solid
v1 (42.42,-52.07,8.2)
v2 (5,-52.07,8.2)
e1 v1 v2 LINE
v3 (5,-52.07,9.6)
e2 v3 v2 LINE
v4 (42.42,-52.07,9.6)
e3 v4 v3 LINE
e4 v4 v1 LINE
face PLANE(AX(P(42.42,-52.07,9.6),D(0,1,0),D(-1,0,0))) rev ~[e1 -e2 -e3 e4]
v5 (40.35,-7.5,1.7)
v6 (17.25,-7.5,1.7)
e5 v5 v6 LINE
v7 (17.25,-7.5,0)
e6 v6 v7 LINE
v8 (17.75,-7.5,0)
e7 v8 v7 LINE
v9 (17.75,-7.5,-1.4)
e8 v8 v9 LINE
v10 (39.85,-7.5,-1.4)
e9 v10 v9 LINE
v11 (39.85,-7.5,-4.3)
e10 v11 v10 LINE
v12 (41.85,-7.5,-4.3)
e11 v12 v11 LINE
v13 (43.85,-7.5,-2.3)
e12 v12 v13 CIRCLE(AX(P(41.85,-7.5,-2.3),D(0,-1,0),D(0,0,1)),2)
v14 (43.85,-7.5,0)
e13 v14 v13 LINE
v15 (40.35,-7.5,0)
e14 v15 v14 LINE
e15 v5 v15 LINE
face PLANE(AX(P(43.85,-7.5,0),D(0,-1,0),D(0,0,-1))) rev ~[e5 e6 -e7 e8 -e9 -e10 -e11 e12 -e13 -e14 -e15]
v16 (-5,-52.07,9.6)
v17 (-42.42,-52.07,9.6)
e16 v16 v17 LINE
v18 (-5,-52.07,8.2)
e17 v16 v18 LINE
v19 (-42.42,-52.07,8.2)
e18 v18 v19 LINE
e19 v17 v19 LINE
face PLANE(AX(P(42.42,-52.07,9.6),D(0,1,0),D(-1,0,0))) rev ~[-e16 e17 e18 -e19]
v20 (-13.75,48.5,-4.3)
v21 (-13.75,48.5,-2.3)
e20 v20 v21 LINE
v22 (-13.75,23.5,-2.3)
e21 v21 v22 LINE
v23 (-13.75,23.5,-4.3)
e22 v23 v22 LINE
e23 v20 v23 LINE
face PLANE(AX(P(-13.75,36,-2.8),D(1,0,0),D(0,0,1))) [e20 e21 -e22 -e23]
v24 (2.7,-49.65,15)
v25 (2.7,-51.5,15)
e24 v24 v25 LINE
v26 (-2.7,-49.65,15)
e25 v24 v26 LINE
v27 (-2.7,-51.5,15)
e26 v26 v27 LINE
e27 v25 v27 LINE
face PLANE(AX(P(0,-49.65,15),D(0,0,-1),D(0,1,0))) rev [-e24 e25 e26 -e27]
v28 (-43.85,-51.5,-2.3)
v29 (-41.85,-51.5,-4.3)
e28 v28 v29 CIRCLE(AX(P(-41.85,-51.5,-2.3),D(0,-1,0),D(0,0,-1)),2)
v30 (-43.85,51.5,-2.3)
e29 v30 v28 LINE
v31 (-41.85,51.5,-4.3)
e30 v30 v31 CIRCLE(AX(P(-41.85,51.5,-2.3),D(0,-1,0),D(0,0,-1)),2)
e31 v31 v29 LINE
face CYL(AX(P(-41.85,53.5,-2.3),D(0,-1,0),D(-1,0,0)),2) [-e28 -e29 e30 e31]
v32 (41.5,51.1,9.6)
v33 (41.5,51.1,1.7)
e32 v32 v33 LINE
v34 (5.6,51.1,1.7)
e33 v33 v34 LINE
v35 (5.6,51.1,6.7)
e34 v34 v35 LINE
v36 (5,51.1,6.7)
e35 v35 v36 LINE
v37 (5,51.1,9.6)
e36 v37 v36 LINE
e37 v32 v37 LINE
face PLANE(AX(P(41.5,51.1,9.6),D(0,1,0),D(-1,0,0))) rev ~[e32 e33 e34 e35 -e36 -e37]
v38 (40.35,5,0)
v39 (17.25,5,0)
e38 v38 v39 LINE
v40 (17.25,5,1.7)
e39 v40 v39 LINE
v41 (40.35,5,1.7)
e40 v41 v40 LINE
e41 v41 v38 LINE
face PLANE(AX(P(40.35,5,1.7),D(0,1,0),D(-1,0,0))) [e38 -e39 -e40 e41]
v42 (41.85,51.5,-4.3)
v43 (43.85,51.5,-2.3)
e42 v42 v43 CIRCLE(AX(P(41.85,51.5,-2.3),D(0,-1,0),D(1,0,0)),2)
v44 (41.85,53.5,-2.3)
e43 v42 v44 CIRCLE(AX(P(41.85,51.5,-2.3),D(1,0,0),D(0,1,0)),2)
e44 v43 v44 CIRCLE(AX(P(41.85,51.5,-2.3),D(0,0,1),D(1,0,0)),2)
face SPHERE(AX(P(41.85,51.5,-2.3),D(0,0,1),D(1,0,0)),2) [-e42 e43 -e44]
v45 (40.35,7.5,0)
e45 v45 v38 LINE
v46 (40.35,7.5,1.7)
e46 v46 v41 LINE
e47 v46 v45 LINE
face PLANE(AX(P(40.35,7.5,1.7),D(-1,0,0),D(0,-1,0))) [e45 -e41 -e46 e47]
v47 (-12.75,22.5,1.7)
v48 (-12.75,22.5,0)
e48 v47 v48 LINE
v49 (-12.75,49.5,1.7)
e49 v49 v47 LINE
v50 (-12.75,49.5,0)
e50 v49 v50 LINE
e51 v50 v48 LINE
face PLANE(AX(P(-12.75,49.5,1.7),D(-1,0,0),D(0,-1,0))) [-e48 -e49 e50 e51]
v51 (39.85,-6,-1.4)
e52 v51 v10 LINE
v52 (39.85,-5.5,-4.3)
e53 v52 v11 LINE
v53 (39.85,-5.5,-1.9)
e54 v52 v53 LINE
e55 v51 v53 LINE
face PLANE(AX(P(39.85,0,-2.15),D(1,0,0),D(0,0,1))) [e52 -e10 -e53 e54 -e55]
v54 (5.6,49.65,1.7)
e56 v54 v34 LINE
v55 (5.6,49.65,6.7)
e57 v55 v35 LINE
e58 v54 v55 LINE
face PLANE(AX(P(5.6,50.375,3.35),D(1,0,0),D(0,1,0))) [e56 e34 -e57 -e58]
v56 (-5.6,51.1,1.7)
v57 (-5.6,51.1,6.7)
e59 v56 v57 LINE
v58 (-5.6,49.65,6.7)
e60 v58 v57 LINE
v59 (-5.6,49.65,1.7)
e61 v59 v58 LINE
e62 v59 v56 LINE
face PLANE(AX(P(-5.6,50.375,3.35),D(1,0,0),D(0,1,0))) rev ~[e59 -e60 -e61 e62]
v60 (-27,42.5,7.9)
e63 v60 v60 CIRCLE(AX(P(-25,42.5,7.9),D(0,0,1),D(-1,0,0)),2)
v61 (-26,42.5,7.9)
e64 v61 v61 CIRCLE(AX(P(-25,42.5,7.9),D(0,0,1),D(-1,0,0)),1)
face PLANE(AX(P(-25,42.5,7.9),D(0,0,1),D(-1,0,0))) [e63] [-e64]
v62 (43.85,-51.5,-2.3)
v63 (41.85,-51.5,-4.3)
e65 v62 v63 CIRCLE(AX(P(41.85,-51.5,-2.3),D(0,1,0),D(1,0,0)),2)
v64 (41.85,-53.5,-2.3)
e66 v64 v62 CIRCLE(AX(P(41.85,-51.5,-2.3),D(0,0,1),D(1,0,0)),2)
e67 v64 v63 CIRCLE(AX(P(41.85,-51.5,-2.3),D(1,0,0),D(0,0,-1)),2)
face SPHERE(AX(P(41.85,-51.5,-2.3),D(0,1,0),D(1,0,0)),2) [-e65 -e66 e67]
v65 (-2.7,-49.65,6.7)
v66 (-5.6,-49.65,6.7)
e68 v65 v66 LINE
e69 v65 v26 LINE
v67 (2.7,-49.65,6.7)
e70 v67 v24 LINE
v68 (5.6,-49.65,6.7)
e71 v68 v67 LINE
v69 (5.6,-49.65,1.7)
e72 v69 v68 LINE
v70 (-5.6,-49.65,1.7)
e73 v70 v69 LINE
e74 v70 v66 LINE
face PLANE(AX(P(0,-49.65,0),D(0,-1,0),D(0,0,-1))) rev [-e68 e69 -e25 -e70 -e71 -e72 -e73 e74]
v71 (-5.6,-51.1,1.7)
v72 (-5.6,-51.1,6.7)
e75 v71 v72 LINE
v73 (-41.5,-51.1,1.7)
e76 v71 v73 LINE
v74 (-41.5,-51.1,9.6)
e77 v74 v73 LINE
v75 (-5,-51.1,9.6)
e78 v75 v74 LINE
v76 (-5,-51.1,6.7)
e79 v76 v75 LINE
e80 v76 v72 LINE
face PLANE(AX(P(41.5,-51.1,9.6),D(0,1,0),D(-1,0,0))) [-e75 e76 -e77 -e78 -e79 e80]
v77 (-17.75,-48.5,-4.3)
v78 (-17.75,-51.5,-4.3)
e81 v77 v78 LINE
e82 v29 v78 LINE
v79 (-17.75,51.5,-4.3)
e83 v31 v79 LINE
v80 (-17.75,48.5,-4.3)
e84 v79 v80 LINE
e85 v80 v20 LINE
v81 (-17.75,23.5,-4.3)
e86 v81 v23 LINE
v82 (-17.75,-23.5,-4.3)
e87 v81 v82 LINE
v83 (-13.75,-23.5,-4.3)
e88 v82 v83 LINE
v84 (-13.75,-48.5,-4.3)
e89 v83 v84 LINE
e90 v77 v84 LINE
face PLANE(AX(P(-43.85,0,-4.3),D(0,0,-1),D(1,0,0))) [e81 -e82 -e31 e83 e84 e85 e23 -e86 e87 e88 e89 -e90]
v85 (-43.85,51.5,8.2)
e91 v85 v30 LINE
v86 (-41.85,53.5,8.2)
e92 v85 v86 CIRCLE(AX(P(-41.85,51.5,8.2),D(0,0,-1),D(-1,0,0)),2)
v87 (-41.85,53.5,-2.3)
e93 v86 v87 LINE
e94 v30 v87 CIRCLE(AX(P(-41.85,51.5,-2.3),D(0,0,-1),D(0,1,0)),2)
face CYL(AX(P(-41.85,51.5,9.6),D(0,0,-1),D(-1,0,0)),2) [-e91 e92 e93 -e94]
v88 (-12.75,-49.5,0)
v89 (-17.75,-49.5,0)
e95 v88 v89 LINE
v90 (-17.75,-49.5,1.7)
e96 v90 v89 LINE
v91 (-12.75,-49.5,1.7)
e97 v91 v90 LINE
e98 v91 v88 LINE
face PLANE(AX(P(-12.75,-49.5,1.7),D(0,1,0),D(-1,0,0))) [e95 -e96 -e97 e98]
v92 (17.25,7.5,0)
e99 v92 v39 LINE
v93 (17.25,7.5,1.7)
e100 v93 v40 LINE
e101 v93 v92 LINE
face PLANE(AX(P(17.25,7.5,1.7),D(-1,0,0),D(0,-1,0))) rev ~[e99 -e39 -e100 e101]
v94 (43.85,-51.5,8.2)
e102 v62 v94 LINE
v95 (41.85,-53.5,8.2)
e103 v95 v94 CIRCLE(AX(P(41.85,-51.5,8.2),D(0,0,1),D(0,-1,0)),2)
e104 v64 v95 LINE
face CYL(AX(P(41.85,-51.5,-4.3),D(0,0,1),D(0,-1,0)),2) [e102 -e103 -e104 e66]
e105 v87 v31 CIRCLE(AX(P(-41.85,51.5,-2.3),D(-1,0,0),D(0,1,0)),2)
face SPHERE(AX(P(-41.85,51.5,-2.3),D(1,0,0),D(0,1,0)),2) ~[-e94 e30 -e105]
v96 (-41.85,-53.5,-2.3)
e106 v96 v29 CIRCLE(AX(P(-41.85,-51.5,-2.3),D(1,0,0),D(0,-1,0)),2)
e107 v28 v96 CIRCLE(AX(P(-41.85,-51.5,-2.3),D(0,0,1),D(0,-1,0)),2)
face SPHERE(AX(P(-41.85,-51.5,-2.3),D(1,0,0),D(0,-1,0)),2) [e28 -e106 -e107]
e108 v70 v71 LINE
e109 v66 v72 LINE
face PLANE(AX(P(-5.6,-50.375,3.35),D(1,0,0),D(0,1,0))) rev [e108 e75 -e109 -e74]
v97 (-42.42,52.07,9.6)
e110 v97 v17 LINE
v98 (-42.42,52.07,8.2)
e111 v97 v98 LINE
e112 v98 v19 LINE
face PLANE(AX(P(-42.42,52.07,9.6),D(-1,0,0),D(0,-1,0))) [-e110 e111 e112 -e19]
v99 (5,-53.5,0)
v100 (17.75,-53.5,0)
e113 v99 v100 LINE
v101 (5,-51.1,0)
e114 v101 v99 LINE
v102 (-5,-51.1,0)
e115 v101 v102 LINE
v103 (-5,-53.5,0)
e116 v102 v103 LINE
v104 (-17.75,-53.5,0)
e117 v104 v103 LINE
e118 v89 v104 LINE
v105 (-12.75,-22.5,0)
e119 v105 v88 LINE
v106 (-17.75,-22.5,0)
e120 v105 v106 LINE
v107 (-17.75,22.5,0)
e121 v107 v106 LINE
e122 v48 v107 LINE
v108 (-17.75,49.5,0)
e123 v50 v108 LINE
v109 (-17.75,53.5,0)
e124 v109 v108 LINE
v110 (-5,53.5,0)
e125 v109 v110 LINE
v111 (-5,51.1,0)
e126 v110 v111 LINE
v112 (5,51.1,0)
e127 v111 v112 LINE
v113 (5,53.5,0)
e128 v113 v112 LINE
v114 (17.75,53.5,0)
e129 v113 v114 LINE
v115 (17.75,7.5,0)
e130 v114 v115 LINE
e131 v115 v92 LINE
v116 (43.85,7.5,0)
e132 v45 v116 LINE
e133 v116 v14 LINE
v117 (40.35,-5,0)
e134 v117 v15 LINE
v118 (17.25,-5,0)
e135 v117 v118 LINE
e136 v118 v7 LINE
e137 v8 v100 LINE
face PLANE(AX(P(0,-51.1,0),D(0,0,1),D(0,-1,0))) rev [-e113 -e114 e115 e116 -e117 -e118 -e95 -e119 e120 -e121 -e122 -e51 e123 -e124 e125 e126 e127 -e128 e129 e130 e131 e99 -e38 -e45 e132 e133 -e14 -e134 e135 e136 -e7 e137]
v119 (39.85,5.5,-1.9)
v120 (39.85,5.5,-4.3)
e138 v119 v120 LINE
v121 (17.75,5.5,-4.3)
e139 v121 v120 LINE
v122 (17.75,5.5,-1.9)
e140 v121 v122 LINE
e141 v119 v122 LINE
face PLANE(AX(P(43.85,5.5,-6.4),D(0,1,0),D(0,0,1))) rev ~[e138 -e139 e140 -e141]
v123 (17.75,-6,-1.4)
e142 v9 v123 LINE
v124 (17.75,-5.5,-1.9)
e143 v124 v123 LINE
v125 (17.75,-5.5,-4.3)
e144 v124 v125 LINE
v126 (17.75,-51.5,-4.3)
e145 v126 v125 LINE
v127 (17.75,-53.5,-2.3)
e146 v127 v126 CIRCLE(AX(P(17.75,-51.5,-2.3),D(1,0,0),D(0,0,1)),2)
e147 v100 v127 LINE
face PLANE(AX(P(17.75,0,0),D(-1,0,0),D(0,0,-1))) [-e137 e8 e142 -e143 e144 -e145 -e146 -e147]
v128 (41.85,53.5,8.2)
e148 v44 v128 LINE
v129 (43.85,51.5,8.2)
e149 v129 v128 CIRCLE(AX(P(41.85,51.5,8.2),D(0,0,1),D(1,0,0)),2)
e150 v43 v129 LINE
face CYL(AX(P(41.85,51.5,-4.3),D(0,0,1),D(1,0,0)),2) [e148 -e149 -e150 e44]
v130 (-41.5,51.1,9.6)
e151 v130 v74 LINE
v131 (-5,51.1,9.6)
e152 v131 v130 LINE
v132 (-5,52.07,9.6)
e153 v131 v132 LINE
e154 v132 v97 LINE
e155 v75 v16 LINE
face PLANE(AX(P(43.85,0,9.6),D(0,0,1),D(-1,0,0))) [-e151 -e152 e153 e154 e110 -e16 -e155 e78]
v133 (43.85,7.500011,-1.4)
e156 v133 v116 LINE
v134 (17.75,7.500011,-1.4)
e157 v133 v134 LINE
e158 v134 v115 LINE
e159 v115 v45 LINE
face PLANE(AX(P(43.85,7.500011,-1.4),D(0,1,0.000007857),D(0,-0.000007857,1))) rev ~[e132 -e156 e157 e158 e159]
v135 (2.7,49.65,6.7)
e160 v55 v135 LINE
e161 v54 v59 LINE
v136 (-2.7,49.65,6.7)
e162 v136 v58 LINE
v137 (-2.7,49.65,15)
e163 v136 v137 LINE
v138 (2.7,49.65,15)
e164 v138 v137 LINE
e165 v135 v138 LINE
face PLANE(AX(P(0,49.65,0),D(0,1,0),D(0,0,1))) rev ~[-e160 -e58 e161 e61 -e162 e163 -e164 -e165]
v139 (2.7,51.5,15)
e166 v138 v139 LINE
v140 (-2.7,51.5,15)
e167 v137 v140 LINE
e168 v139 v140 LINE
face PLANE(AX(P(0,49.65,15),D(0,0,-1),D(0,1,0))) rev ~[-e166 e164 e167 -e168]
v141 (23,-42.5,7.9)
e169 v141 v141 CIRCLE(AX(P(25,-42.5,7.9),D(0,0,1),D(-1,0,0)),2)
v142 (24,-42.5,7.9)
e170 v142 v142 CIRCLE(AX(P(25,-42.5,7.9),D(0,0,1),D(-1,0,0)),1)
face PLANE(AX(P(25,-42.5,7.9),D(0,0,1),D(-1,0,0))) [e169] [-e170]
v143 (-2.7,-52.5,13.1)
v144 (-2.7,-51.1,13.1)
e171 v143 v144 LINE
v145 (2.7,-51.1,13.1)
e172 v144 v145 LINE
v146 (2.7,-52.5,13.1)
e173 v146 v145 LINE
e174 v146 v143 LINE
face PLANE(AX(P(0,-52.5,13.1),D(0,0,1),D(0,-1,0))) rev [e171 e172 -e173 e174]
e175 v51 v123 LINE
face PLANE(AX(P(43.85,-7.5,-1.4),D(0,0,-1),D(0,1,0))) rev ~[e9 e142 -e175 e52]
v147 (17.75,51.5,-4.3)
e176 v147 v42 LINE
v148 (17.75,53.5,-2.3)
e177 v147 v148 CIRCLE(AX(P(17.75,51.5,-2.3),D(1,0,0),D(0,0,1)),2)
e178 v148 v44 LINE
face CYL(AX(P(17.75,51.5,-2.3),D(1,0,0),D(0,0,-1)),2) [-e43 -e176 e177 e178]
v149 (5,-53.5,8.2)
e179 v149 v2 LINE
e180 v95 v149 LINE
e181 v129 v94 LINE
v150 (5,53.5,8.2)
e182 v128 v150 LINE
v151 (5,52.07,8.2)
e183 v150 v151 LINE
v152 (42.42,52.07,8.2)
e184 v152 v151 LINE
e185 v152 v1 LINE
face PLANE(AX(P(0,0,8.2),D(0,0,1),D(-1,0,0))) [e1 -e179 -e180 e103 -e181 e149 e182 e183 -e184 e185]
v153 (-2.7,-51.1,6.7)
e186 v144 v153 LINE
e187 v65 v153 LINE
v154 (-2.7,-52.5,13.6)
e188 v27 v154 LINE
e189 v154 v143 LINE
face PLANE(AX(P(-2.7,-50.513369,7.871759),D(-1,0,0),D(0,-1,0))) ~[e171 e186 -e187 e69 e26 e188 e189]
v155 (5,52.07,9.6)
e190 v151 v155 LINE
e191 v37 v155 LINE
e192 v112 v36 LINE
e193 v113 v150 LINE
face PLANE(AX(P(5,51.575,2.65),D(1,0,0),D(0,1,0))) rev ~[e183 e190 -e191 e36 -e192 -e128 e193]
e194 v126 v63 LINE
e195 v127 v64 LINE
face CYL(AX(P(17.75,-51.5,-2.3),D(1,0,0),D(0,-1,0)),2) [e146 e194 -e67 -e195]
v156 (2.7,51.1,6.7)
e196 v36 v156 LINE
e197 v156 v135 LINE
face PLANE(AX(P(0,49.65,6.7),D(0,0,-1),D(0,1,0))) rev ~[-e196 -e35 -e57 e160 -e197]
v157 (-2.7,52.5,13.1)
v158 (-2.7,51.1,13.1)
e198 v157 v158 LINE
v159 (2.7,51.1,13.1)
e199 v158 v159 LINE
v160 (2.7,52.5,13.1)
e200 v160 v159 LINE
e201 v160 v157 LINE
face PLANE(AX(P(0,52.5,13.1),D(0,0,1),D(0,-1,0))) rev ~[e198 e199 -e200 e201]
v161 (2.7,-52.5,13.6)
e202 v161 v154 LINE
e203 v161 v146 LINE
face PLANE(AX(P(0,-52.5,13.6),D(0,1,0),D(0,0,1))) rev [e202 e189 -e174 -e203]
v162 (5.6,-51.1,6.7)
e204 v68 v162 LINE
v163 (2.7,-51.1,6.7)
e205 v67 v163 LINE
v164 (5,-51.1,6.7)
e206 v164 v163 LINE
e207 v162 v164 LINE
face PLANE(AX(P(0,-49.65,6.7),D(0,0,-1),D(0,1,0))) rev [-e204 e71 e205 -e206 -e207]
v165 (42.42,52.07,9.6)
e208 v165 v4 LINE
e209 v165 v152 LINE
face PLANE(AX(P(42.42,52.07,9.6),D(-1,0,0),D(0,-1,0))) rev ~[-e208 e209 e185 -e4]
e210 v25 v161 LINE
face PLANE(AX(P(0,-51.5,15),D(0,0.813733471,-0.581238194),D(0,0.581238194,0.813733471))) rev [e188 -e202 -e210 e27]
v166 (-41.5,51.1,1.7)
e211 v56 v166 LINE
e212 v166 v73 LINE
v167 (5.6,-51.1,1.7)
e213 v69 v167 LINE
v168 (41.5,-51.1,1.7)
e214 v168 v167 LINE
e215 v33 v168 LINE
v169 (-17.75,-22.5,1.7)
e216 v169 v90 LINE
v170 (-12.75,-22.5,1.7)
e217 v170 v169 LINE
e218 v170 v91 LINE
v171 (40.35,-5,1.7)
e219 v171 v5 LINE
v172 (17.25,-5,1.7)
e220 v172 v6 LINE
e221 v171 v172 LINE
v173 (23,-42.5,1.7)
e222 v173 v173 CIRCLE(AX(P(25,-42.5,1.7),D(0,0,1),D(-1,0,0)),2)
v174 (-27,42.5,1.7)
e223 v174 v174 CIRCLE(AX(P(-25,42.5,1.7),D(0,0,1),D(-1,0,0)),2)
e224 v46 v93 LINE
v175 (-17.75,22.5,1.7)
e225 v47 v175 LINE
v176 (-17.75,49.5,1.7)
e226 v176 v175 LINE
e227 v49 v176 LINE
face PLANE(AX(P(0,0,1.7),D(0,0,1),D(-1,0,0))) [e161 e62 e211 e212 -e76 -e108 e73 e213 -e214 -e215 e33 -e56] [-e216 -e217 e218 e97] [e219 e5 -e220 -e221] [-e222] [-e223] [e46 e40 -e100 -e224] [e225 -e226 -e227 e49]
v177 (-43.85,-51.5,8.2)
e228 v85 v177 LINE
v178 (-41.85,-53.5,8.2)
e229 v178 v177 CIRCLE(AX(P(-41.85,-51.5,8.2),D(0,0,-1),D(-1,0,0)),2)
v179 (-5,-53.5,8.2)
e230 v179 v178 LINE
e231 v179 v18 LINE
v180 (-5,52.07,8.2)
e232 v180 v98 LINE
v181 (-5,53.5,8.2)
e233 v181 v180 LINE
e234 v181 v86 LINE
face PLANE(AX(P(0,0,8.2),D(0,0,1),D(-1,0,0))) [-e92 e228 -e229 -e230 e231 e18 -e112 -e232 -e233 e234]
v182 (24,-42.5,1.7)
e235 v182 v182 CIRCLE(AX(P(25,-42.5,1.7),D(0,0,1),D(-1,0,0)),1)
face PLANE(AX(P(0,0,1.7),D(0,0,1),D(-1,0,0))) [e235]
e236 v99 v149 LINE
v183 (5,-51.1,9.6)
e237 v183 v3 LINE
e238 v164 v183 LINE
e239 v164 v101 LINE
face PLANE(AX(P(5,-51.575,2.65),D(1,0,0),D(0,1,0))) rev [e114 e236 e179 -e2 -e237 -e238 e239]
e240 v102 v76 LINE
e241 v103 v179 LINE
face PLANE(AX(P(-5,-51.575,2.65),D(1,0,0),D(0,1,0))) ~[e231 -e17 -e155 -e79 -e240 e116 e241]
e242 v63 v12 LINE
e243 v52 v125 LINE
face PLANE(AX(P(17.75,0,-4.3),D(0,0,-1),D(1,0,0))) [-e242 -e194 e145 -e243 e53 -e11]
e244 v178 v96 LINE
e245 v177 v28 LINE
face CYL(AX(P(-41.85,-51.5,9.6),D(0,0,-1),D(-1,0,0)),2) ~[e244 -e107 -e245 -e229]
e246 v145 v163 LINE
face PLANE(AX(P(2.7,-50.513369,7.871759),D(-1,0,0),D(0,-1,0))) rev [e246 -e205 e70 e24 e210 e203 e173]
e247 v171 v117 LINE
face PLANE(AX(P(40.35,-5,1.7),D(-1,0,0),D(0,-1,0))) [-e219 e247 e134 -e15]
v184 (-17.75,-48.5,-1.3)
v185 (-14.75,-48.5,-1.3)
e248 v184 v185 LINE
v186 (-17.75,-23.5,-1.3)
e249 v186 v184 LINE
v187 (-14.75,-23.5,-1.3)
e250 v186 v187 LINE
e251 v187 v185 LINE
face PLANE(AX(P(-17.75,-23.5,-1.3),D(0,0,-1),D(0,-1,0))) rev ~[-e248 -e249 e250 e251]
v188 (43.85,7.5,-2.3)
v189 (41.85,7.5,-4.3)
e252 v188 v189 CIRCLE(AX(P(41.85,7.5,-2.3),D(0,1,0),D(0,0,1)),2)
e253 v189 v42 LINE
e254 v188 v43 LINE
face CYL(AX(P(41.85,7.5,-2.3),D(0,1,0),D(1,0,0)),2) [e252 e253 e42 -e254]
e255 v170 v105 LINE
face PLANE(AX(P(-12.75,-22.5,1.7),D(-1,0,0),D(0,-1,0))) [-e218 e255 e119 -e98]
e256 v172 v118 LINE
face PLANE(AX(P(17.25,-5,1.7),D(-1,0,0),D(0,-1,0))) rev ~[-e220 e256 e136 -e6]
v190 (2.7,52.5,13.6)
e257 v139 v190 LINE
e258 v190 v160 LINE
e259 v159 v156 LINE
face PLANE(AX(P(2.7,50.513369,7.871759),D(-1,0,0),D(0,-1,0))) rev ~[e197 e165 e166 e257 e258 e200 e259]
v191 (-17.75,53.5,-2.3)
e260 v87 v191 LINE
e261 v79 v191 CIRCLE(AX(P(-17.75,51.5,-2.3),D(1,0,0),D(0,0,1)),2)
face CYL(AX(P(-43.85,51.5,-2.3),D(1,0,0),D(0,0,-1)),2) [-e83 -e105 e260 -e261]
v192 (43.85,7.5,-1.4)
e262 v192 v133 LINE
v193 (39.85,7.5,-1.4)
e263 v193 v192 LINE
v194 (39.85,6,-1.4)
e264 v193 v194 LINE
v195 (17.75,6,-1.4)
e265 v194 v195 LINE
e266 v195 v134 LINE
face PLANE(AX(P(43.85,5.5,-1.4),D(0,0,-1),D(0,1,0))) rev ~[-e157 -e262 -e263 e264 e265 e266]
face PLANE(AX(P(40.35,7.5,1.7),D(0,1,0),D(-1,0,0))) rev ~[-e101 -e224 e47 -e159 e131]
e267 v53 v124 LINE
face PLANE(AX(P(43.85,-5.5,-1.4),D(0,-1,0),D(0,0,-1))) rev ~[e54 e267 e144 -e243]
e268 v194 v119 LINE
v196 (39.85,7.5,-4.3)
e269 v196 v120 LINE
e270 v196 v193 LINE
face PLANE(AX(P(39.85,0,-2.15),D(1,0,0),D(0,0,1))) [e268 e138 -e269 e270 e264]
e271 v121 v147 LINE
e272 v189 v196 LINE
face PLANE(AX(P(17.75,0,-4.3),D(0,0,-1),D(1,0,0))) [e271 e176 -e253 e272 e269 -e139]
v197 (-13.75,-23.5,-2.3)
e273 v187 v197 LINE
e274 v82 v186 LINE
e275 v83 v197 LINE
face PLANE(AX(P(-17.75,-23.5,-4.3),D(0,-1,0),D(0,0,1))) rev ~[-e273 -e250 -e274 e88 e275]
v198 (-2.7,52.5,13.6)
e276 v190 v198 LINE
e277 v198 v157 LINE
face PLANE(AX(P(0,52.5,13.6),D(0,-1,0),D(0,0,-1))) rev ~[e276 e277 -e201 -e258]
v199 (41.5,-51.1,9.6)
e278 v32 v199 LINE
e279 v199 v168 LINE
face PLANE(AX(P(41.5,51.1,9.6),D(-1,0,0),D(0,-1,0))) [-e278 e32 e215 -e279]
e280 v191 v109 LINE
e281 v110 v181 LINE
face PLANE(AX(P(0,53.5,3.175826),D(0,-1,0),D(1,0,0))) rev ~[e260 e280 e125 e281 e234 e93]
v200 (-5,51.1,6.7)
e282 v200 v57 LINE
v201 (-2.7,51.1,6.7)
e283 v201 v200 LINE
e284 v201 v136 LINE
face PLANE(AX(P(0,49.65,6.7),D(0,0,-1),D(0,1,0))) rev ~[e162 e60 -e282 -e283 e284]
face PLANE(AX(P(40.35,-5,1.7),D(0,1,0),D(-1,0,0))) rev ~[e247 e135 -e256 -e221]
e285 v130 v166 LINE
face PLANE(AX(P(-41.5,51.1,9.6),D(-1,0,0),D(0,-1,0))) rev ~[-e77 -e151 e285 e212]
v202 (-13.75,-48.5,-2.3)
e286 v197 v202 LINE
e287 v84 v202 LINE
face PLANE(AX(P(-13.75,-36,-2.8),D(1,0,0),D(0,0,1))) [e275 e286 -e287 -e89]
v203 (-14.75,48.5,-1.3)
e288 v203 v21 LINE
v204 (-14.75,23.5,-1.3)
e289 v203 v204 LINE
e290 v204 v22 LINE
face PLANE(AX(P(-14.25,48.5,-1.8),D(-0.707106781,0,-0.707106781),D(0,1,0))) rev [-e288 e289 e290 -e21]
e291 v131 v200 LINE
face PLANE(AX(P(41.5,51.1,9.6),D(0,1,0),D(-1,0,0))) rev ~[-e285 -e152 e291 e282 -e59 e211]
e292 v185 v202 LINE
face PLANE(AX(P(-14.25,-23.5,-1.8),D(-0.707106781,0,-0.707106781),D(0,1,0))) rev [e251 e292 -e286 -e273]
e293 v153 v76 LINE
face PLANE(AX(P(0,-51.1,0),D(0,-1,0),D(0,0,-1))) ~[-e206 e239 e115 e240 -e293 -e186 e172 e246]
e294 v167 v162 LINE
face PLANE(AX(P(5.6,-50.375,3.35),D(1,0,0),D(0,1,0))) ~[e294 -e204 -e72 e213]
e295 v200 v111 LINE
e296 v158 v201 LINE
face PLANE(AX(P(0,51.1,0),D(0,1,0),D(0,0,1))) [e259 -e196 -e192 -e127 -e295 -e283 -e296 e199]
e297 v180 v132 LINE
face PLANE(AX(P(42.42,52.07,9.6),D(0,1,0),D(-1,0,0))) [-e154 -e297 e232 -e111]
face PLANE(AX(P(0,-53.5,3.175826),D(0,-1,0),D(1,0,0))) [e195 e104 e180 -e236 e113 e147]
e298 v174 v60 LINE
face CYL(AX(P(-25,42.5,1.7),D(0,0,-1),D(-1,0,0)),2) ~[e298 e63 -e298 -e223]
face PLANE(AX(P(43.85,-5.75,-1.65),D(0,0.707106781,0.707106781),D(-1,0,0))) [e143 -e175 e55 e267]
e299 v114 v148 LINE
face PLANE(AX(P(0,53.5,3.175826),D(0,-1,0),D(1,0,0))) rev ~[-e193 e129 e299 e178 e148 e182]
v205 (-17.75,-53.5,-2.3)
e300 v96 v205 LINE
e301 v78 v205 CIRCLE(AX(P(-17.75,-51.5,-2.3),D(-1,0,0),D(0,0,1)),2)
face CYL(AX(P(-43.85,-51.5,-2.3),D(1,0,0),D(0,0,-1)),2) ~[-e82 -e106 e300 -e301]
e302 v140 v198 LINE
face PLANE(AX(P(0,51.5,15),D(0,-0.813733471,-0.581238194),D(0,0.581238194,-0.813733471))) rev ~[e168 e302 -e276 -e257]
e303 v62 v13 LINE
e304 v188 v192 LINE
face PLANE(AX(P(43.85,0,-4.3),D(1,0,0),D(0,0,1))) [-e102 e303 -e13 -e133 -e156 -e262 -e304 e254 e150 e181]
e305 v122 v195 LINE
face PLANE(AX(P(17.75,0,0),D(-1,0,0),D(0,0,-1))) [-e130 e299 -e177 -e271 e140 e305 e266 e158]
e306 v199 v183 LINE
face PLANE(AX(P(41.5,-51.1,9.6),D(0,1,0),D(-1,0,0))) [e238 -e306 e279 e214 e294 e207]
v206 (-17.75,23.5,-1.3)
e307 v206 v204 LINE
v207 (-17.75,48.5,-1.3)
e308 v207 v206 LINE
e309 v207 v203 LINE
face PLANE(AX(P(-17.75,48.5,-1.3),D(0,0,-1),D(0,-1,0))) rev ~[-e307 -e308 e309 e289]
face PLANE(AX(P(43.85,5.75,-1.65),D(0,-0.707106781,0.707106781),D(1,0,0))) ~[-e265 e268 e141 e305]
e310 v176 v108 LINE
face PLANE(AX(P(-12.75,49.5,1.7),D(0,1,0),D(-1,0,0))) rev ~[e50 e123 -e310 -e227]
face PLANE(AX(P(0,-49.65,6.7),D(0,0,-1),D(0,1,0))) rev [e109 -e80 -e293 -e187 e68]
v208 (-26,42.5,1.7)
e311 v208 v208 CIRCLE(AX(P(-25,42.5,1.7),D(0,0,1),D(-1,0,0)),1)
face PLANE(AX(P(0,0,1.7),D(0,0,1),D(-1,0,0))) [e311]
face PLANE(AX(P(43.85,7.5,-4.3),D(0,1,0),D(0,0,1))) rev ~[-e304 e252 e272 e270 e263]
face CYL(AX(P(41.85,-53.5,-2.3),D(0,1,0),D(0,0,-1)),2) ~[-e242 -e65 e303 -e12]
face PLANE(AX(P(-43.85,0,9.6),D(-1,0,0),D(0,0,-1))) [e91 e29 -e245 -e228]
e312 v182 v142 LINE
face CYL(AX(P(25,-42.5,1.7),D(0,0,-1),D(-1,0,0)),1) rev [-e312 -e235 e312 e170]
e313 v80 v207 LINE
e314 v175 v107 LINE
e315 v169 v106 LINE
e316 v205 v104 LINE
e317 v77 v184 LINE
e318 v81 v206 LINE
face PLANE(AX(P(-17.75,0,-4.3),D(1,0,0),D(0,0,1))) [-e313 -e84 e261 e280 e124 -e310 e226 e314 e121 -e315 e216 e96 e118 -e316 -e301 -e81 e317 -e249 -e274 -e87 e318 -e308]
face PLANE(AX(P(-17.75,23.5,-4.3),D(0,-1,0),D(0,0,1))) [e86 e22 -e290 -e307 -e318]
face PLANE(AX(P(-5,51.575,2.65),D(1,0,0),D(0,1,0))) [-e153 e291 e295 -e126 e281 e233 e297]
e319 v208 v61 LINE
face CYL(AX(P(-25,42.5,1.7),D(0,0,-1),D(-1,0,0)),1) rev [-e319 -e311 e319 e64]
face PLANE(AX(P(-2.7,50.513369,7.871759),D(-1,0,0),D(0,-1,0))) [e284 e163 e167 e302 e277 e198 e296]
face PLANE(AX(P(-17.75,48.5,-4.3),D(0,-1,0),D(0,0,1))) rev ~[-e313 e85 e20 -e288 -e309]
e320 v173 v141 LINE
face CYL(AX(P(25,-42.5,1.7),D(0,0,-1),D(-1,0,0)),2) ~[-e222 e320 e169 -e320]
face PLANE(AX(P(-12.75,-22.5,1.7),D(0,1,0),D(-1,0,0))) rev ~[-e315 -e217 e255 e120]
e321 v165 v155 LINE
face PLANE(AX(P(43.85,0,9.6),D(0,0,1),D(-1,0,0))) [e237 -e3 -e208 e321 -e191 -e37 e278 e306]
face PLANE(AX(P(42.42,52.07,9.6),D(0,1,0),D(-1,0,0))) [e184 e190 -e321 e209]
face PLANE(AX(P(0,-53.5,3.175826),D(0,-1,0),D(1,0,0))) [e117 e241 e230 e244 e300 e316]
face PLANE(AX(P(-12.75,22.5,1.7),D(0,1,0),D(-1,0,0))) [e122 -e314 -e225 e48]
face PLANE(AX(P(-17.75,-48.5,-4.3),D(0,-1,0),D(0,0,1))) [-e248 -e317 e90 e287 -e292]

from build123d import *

# Parameters (mm, degrees)
PAD002_DEPTH    = 53.5
SKETCH009_W     = 83
SKETCH009_H     = 102.2
POCKET005_DEPTH = 7.9
SKETCH010_R     = 2
SKETCH010_R_2   = 1
PAD003_DEPTH    = 6.2
SKETCH011_W     = 3
SKETCH011_H     = 25
PAD004_DEPTH    = 4
CHAMFER001_SIZE = 1
POCKET006_DEPTH = 26.1
CHAMFER002_SIZE = 0.5
SKETCH013_W     = 4.3
SKETCH013_H     = 15
POCKET007_DEPTH = 4
SKETCH014_W     = 23.1
SKETCH014_H     = 2.5
SKETCH014_W_2   = 5
SKETCH014_H_2   = 27
POCKET008_DEPTH = 1.7
SKETCH015_W     = 3.85
SKETCH015_H     = 13.9
POCKET009_DEPTH = 5
PAD005_DEPTH    = 2.7
SKETCH017_W     = 1.45
SKETCH017_H     = 6.7
PAD006_DEPTH    = 5.6
FILLET002_R     = 2
SKETCH018_W     = 87.7
SKETCH018_H     = 107
SKETCH018_W_2   = 84.84
SKETCH018_H_2   = 104.14
POCKET010_DEPTH = 1.4


with BuildPart() as part:
    # Sketch008 → Pad002 (new body, symmetric)
    with BuildSketch(Plane.XZ):
        Polygon((43.85, 9.6), (-43.85, 9.6), (-43.85, -4.3), (-17.75, -4.3), (-17.75, 0), (17.75, 0), (17.75, -4.3), (43.85, -4.3), align=None)
    extrude(amount=PAD002_DEPTH, both=True)

    # Sketch009 (on Face1 of Pad002) → Pocket005 (cut)
    with BuildSketch(Plane(origin=(0, 0, 9.6), x_dir=(-1, 0, 0), z_dir=(0, 0, 1))):
        Rectangle(SKETCH009_W, SKETCH009_H)
    extrude(amount=-POCKET005_DEPTH, mode=Mode.SUBTRACT)

    # Sketch010 (on Face15 of Pocket005) → Pad003 (join)
    with BuildSketch(Plane(origin=(0, 0, 1.7), x_dir=(-1, 0, 0), z_dir=(0, 0, 1))):
        with Locations((25, -42.5)):
            Circle(SKETCH010_R)
        with Locations((25, -42.5)):
            Circle(SKETCH010_R_2, mode=Mode.SUBTRACT)
        with Locations((-25, 42.5)):
            Circle(SKETCH010_R)
        with Locations((-25, 42.5)):
            Circle(SKETCH010_R_2, mode=Mode.SUBTRACT)
    extrude(amount=PAD003_DEPTH)

    # Sketch011 (on Face12 of Pad003) → Pad004 (join)
    with BuildSketch(Plane(origin=(-17.75, 0, 0), x_dir=(0, 0, 1), z_dir=(1, 0, 0))):
        with Locations((-2.8, -36)):
            Rectangle(SKETCH011_W, SKETCH011_H)
        with Locations((-2.8, 36)):
            Rectangle(SKETCH011_W, SKETCH011_H)
    extrude(amount=PAD004_DEPTH)

    # Chamfer001
    chamfer001_edges = [part.edges().sort_by_distance(p)[0] for p in [
        (-13.75, 36, -1.3),
        (-13.75, -36, -1.3),
    ]]
    chamfer(chamfer001_edges, length=CHAMFER001_SIZE)

    # Sketch012 (on Face19 of Chamfer001) → Pocket006 (cut)
    with BuildSketch(Plane(origin=(43.85, 0, 0), x_dir=(0, 0, 1), z_dir=(1, 0, 0))):
        Polygon((0, 7.5), (-1.4, 7.5), (-1.4, 5.5), (-6.4, 5.5), (-6.4, -5.5), (-1.4, -5.5), (-1.4, -7.500011), (0, -7.5), align=None)
    extrude(amount=-POCKET006_DEPTH, mode=Mode.SUBTRACT)

    # Chamfer002
    chamfer002_edges = [part.edges().sort_by_distance(p)[0] for p in [
        (30.8, -5.5, -1.4),
        (30.8, 5.5, -1.4),
    ]]
    chamfer(chamfer002_edges, length=CHAMFER002_SIZE)

    # Sketch013 (on Face9 of Chamfer002) → Pocket007 (cut)
    with BuildSketch(Plane(origin=(43.85, 0, 0), x_dir=(0, 0, 1), z_dir=(1, 0, 0))):
        with Locations((-2.15, 0)):
            Rectangle(SKETCH013_W, SKETCH013_H)
    extrude(amount=-POCKET007_DEPTH, mode=Mode.SUBTRACT)

    # Sketch014 (on Face33 of Pocket007) → Pocket008 (cut)
    with BuildSketch(Plane(origin=(0, 0, 1.7), x_dir=(-1, 0, 0), z_dir=(0, 0, 1))):
        with Locations((-28.8, -6.25)):
            Rectangle(SKETCH014_W, SKETCH014_H)
        with Locations((15.25, -36)):
            Rectangle(SKETCH014_W_2, SKETCH014_H_2)
        with Locations((-28.8, 6.25)):
            Rectangle(SKETCH014_W, SKETCH014_H)
        with Locations((15.25, 36)):
            Rectangle(SKETCH014_W_2, SKETCH014_H_2)
    extrude(amount=-POCKET008_DEPTH, mode=Mode.SUBTRACT)

    # Sketch015 → Pocket009 (cut, symmetric)
    with BuildSketch(Plane.YZ):
        with Locations((51.575, 2.65)):
            Rectangle(SKETCH015_W, SKETCH015_H)
    pocket009 = extrude(amount=POCKET009_DEPTH, both=True, mode=Mode.SUBTRACT)

    # Sketch016 → Pad005 (join, symmetric)
    with BuildSketch(Plane.YZ):
        Polygon((49.65, 0), (49.65, 15), (51.5, 15), (52.5, 13.6), (52.5, 13.1), (51.1, 13.1), (51.1, 0), align=None)
    pad005 = extrude(amount=PAD005_DEPTH, both=True)

    # Sketch017 → Pad006 (join, symmetric)
    with BuildSketch(Plane.YZ):
        with Locations((50.375, 3.35)):
            Rectangle(SKETCH017_W, SKETCH017_H)
    pad006 = extrude(amount=PAD006_DEPTH, both=True)

    # Mirrored003: Pocket009, Pad005, Pad006 across XZ
    add(pocket009.mirror(Plane.XZ), mode=Mode.SUBTRACT)
    add(pad005.mirror(Plane.XZ))
    add(pad006.mirror(Plane.XZ))

    # Fillet002
    fillet002_edges = [part.edges().sort_by_distance(p)[0] for p in [
        (43.85, 53.5, 2.65),
        (43.85, 30.5, -4.3),
        (30.8, 53.5, -4.3),
        (-30.8, 53.5, -4.3),
        (-43.85, 53.5, 2.65),
        (43.85, -30.5, -4.3),
        (43.85, -53.5, 2.65),
        (30.8, -53.5, -4.3),
        (-30.8, -53.5, -4.3),
        (-43.85, -53.5, 2.65),
        (-43.85, 0, -4.3),
    ]]
    fillet(fillet002_edges, radius=FILLET002_R)

    # Sketch018 (on Face71 of Fillet002) → Pocket010 (cut)
    with BuildSketch(Plane(origin=(0, 0, 9.6), x_dir=(-1, 0, 0), z_dir=(0, 0, 1))):
        Rectangle(SKETCH018_W, SKETCH018_H)
        Rectangle(SKETCH018_W_2, SKETCH018_H_2, mode=Mode.SUBTRACT)
    extrude(amount=-POCKET010_DEPTH, mode=Mode.SUBTRACT)


solid = part.part
